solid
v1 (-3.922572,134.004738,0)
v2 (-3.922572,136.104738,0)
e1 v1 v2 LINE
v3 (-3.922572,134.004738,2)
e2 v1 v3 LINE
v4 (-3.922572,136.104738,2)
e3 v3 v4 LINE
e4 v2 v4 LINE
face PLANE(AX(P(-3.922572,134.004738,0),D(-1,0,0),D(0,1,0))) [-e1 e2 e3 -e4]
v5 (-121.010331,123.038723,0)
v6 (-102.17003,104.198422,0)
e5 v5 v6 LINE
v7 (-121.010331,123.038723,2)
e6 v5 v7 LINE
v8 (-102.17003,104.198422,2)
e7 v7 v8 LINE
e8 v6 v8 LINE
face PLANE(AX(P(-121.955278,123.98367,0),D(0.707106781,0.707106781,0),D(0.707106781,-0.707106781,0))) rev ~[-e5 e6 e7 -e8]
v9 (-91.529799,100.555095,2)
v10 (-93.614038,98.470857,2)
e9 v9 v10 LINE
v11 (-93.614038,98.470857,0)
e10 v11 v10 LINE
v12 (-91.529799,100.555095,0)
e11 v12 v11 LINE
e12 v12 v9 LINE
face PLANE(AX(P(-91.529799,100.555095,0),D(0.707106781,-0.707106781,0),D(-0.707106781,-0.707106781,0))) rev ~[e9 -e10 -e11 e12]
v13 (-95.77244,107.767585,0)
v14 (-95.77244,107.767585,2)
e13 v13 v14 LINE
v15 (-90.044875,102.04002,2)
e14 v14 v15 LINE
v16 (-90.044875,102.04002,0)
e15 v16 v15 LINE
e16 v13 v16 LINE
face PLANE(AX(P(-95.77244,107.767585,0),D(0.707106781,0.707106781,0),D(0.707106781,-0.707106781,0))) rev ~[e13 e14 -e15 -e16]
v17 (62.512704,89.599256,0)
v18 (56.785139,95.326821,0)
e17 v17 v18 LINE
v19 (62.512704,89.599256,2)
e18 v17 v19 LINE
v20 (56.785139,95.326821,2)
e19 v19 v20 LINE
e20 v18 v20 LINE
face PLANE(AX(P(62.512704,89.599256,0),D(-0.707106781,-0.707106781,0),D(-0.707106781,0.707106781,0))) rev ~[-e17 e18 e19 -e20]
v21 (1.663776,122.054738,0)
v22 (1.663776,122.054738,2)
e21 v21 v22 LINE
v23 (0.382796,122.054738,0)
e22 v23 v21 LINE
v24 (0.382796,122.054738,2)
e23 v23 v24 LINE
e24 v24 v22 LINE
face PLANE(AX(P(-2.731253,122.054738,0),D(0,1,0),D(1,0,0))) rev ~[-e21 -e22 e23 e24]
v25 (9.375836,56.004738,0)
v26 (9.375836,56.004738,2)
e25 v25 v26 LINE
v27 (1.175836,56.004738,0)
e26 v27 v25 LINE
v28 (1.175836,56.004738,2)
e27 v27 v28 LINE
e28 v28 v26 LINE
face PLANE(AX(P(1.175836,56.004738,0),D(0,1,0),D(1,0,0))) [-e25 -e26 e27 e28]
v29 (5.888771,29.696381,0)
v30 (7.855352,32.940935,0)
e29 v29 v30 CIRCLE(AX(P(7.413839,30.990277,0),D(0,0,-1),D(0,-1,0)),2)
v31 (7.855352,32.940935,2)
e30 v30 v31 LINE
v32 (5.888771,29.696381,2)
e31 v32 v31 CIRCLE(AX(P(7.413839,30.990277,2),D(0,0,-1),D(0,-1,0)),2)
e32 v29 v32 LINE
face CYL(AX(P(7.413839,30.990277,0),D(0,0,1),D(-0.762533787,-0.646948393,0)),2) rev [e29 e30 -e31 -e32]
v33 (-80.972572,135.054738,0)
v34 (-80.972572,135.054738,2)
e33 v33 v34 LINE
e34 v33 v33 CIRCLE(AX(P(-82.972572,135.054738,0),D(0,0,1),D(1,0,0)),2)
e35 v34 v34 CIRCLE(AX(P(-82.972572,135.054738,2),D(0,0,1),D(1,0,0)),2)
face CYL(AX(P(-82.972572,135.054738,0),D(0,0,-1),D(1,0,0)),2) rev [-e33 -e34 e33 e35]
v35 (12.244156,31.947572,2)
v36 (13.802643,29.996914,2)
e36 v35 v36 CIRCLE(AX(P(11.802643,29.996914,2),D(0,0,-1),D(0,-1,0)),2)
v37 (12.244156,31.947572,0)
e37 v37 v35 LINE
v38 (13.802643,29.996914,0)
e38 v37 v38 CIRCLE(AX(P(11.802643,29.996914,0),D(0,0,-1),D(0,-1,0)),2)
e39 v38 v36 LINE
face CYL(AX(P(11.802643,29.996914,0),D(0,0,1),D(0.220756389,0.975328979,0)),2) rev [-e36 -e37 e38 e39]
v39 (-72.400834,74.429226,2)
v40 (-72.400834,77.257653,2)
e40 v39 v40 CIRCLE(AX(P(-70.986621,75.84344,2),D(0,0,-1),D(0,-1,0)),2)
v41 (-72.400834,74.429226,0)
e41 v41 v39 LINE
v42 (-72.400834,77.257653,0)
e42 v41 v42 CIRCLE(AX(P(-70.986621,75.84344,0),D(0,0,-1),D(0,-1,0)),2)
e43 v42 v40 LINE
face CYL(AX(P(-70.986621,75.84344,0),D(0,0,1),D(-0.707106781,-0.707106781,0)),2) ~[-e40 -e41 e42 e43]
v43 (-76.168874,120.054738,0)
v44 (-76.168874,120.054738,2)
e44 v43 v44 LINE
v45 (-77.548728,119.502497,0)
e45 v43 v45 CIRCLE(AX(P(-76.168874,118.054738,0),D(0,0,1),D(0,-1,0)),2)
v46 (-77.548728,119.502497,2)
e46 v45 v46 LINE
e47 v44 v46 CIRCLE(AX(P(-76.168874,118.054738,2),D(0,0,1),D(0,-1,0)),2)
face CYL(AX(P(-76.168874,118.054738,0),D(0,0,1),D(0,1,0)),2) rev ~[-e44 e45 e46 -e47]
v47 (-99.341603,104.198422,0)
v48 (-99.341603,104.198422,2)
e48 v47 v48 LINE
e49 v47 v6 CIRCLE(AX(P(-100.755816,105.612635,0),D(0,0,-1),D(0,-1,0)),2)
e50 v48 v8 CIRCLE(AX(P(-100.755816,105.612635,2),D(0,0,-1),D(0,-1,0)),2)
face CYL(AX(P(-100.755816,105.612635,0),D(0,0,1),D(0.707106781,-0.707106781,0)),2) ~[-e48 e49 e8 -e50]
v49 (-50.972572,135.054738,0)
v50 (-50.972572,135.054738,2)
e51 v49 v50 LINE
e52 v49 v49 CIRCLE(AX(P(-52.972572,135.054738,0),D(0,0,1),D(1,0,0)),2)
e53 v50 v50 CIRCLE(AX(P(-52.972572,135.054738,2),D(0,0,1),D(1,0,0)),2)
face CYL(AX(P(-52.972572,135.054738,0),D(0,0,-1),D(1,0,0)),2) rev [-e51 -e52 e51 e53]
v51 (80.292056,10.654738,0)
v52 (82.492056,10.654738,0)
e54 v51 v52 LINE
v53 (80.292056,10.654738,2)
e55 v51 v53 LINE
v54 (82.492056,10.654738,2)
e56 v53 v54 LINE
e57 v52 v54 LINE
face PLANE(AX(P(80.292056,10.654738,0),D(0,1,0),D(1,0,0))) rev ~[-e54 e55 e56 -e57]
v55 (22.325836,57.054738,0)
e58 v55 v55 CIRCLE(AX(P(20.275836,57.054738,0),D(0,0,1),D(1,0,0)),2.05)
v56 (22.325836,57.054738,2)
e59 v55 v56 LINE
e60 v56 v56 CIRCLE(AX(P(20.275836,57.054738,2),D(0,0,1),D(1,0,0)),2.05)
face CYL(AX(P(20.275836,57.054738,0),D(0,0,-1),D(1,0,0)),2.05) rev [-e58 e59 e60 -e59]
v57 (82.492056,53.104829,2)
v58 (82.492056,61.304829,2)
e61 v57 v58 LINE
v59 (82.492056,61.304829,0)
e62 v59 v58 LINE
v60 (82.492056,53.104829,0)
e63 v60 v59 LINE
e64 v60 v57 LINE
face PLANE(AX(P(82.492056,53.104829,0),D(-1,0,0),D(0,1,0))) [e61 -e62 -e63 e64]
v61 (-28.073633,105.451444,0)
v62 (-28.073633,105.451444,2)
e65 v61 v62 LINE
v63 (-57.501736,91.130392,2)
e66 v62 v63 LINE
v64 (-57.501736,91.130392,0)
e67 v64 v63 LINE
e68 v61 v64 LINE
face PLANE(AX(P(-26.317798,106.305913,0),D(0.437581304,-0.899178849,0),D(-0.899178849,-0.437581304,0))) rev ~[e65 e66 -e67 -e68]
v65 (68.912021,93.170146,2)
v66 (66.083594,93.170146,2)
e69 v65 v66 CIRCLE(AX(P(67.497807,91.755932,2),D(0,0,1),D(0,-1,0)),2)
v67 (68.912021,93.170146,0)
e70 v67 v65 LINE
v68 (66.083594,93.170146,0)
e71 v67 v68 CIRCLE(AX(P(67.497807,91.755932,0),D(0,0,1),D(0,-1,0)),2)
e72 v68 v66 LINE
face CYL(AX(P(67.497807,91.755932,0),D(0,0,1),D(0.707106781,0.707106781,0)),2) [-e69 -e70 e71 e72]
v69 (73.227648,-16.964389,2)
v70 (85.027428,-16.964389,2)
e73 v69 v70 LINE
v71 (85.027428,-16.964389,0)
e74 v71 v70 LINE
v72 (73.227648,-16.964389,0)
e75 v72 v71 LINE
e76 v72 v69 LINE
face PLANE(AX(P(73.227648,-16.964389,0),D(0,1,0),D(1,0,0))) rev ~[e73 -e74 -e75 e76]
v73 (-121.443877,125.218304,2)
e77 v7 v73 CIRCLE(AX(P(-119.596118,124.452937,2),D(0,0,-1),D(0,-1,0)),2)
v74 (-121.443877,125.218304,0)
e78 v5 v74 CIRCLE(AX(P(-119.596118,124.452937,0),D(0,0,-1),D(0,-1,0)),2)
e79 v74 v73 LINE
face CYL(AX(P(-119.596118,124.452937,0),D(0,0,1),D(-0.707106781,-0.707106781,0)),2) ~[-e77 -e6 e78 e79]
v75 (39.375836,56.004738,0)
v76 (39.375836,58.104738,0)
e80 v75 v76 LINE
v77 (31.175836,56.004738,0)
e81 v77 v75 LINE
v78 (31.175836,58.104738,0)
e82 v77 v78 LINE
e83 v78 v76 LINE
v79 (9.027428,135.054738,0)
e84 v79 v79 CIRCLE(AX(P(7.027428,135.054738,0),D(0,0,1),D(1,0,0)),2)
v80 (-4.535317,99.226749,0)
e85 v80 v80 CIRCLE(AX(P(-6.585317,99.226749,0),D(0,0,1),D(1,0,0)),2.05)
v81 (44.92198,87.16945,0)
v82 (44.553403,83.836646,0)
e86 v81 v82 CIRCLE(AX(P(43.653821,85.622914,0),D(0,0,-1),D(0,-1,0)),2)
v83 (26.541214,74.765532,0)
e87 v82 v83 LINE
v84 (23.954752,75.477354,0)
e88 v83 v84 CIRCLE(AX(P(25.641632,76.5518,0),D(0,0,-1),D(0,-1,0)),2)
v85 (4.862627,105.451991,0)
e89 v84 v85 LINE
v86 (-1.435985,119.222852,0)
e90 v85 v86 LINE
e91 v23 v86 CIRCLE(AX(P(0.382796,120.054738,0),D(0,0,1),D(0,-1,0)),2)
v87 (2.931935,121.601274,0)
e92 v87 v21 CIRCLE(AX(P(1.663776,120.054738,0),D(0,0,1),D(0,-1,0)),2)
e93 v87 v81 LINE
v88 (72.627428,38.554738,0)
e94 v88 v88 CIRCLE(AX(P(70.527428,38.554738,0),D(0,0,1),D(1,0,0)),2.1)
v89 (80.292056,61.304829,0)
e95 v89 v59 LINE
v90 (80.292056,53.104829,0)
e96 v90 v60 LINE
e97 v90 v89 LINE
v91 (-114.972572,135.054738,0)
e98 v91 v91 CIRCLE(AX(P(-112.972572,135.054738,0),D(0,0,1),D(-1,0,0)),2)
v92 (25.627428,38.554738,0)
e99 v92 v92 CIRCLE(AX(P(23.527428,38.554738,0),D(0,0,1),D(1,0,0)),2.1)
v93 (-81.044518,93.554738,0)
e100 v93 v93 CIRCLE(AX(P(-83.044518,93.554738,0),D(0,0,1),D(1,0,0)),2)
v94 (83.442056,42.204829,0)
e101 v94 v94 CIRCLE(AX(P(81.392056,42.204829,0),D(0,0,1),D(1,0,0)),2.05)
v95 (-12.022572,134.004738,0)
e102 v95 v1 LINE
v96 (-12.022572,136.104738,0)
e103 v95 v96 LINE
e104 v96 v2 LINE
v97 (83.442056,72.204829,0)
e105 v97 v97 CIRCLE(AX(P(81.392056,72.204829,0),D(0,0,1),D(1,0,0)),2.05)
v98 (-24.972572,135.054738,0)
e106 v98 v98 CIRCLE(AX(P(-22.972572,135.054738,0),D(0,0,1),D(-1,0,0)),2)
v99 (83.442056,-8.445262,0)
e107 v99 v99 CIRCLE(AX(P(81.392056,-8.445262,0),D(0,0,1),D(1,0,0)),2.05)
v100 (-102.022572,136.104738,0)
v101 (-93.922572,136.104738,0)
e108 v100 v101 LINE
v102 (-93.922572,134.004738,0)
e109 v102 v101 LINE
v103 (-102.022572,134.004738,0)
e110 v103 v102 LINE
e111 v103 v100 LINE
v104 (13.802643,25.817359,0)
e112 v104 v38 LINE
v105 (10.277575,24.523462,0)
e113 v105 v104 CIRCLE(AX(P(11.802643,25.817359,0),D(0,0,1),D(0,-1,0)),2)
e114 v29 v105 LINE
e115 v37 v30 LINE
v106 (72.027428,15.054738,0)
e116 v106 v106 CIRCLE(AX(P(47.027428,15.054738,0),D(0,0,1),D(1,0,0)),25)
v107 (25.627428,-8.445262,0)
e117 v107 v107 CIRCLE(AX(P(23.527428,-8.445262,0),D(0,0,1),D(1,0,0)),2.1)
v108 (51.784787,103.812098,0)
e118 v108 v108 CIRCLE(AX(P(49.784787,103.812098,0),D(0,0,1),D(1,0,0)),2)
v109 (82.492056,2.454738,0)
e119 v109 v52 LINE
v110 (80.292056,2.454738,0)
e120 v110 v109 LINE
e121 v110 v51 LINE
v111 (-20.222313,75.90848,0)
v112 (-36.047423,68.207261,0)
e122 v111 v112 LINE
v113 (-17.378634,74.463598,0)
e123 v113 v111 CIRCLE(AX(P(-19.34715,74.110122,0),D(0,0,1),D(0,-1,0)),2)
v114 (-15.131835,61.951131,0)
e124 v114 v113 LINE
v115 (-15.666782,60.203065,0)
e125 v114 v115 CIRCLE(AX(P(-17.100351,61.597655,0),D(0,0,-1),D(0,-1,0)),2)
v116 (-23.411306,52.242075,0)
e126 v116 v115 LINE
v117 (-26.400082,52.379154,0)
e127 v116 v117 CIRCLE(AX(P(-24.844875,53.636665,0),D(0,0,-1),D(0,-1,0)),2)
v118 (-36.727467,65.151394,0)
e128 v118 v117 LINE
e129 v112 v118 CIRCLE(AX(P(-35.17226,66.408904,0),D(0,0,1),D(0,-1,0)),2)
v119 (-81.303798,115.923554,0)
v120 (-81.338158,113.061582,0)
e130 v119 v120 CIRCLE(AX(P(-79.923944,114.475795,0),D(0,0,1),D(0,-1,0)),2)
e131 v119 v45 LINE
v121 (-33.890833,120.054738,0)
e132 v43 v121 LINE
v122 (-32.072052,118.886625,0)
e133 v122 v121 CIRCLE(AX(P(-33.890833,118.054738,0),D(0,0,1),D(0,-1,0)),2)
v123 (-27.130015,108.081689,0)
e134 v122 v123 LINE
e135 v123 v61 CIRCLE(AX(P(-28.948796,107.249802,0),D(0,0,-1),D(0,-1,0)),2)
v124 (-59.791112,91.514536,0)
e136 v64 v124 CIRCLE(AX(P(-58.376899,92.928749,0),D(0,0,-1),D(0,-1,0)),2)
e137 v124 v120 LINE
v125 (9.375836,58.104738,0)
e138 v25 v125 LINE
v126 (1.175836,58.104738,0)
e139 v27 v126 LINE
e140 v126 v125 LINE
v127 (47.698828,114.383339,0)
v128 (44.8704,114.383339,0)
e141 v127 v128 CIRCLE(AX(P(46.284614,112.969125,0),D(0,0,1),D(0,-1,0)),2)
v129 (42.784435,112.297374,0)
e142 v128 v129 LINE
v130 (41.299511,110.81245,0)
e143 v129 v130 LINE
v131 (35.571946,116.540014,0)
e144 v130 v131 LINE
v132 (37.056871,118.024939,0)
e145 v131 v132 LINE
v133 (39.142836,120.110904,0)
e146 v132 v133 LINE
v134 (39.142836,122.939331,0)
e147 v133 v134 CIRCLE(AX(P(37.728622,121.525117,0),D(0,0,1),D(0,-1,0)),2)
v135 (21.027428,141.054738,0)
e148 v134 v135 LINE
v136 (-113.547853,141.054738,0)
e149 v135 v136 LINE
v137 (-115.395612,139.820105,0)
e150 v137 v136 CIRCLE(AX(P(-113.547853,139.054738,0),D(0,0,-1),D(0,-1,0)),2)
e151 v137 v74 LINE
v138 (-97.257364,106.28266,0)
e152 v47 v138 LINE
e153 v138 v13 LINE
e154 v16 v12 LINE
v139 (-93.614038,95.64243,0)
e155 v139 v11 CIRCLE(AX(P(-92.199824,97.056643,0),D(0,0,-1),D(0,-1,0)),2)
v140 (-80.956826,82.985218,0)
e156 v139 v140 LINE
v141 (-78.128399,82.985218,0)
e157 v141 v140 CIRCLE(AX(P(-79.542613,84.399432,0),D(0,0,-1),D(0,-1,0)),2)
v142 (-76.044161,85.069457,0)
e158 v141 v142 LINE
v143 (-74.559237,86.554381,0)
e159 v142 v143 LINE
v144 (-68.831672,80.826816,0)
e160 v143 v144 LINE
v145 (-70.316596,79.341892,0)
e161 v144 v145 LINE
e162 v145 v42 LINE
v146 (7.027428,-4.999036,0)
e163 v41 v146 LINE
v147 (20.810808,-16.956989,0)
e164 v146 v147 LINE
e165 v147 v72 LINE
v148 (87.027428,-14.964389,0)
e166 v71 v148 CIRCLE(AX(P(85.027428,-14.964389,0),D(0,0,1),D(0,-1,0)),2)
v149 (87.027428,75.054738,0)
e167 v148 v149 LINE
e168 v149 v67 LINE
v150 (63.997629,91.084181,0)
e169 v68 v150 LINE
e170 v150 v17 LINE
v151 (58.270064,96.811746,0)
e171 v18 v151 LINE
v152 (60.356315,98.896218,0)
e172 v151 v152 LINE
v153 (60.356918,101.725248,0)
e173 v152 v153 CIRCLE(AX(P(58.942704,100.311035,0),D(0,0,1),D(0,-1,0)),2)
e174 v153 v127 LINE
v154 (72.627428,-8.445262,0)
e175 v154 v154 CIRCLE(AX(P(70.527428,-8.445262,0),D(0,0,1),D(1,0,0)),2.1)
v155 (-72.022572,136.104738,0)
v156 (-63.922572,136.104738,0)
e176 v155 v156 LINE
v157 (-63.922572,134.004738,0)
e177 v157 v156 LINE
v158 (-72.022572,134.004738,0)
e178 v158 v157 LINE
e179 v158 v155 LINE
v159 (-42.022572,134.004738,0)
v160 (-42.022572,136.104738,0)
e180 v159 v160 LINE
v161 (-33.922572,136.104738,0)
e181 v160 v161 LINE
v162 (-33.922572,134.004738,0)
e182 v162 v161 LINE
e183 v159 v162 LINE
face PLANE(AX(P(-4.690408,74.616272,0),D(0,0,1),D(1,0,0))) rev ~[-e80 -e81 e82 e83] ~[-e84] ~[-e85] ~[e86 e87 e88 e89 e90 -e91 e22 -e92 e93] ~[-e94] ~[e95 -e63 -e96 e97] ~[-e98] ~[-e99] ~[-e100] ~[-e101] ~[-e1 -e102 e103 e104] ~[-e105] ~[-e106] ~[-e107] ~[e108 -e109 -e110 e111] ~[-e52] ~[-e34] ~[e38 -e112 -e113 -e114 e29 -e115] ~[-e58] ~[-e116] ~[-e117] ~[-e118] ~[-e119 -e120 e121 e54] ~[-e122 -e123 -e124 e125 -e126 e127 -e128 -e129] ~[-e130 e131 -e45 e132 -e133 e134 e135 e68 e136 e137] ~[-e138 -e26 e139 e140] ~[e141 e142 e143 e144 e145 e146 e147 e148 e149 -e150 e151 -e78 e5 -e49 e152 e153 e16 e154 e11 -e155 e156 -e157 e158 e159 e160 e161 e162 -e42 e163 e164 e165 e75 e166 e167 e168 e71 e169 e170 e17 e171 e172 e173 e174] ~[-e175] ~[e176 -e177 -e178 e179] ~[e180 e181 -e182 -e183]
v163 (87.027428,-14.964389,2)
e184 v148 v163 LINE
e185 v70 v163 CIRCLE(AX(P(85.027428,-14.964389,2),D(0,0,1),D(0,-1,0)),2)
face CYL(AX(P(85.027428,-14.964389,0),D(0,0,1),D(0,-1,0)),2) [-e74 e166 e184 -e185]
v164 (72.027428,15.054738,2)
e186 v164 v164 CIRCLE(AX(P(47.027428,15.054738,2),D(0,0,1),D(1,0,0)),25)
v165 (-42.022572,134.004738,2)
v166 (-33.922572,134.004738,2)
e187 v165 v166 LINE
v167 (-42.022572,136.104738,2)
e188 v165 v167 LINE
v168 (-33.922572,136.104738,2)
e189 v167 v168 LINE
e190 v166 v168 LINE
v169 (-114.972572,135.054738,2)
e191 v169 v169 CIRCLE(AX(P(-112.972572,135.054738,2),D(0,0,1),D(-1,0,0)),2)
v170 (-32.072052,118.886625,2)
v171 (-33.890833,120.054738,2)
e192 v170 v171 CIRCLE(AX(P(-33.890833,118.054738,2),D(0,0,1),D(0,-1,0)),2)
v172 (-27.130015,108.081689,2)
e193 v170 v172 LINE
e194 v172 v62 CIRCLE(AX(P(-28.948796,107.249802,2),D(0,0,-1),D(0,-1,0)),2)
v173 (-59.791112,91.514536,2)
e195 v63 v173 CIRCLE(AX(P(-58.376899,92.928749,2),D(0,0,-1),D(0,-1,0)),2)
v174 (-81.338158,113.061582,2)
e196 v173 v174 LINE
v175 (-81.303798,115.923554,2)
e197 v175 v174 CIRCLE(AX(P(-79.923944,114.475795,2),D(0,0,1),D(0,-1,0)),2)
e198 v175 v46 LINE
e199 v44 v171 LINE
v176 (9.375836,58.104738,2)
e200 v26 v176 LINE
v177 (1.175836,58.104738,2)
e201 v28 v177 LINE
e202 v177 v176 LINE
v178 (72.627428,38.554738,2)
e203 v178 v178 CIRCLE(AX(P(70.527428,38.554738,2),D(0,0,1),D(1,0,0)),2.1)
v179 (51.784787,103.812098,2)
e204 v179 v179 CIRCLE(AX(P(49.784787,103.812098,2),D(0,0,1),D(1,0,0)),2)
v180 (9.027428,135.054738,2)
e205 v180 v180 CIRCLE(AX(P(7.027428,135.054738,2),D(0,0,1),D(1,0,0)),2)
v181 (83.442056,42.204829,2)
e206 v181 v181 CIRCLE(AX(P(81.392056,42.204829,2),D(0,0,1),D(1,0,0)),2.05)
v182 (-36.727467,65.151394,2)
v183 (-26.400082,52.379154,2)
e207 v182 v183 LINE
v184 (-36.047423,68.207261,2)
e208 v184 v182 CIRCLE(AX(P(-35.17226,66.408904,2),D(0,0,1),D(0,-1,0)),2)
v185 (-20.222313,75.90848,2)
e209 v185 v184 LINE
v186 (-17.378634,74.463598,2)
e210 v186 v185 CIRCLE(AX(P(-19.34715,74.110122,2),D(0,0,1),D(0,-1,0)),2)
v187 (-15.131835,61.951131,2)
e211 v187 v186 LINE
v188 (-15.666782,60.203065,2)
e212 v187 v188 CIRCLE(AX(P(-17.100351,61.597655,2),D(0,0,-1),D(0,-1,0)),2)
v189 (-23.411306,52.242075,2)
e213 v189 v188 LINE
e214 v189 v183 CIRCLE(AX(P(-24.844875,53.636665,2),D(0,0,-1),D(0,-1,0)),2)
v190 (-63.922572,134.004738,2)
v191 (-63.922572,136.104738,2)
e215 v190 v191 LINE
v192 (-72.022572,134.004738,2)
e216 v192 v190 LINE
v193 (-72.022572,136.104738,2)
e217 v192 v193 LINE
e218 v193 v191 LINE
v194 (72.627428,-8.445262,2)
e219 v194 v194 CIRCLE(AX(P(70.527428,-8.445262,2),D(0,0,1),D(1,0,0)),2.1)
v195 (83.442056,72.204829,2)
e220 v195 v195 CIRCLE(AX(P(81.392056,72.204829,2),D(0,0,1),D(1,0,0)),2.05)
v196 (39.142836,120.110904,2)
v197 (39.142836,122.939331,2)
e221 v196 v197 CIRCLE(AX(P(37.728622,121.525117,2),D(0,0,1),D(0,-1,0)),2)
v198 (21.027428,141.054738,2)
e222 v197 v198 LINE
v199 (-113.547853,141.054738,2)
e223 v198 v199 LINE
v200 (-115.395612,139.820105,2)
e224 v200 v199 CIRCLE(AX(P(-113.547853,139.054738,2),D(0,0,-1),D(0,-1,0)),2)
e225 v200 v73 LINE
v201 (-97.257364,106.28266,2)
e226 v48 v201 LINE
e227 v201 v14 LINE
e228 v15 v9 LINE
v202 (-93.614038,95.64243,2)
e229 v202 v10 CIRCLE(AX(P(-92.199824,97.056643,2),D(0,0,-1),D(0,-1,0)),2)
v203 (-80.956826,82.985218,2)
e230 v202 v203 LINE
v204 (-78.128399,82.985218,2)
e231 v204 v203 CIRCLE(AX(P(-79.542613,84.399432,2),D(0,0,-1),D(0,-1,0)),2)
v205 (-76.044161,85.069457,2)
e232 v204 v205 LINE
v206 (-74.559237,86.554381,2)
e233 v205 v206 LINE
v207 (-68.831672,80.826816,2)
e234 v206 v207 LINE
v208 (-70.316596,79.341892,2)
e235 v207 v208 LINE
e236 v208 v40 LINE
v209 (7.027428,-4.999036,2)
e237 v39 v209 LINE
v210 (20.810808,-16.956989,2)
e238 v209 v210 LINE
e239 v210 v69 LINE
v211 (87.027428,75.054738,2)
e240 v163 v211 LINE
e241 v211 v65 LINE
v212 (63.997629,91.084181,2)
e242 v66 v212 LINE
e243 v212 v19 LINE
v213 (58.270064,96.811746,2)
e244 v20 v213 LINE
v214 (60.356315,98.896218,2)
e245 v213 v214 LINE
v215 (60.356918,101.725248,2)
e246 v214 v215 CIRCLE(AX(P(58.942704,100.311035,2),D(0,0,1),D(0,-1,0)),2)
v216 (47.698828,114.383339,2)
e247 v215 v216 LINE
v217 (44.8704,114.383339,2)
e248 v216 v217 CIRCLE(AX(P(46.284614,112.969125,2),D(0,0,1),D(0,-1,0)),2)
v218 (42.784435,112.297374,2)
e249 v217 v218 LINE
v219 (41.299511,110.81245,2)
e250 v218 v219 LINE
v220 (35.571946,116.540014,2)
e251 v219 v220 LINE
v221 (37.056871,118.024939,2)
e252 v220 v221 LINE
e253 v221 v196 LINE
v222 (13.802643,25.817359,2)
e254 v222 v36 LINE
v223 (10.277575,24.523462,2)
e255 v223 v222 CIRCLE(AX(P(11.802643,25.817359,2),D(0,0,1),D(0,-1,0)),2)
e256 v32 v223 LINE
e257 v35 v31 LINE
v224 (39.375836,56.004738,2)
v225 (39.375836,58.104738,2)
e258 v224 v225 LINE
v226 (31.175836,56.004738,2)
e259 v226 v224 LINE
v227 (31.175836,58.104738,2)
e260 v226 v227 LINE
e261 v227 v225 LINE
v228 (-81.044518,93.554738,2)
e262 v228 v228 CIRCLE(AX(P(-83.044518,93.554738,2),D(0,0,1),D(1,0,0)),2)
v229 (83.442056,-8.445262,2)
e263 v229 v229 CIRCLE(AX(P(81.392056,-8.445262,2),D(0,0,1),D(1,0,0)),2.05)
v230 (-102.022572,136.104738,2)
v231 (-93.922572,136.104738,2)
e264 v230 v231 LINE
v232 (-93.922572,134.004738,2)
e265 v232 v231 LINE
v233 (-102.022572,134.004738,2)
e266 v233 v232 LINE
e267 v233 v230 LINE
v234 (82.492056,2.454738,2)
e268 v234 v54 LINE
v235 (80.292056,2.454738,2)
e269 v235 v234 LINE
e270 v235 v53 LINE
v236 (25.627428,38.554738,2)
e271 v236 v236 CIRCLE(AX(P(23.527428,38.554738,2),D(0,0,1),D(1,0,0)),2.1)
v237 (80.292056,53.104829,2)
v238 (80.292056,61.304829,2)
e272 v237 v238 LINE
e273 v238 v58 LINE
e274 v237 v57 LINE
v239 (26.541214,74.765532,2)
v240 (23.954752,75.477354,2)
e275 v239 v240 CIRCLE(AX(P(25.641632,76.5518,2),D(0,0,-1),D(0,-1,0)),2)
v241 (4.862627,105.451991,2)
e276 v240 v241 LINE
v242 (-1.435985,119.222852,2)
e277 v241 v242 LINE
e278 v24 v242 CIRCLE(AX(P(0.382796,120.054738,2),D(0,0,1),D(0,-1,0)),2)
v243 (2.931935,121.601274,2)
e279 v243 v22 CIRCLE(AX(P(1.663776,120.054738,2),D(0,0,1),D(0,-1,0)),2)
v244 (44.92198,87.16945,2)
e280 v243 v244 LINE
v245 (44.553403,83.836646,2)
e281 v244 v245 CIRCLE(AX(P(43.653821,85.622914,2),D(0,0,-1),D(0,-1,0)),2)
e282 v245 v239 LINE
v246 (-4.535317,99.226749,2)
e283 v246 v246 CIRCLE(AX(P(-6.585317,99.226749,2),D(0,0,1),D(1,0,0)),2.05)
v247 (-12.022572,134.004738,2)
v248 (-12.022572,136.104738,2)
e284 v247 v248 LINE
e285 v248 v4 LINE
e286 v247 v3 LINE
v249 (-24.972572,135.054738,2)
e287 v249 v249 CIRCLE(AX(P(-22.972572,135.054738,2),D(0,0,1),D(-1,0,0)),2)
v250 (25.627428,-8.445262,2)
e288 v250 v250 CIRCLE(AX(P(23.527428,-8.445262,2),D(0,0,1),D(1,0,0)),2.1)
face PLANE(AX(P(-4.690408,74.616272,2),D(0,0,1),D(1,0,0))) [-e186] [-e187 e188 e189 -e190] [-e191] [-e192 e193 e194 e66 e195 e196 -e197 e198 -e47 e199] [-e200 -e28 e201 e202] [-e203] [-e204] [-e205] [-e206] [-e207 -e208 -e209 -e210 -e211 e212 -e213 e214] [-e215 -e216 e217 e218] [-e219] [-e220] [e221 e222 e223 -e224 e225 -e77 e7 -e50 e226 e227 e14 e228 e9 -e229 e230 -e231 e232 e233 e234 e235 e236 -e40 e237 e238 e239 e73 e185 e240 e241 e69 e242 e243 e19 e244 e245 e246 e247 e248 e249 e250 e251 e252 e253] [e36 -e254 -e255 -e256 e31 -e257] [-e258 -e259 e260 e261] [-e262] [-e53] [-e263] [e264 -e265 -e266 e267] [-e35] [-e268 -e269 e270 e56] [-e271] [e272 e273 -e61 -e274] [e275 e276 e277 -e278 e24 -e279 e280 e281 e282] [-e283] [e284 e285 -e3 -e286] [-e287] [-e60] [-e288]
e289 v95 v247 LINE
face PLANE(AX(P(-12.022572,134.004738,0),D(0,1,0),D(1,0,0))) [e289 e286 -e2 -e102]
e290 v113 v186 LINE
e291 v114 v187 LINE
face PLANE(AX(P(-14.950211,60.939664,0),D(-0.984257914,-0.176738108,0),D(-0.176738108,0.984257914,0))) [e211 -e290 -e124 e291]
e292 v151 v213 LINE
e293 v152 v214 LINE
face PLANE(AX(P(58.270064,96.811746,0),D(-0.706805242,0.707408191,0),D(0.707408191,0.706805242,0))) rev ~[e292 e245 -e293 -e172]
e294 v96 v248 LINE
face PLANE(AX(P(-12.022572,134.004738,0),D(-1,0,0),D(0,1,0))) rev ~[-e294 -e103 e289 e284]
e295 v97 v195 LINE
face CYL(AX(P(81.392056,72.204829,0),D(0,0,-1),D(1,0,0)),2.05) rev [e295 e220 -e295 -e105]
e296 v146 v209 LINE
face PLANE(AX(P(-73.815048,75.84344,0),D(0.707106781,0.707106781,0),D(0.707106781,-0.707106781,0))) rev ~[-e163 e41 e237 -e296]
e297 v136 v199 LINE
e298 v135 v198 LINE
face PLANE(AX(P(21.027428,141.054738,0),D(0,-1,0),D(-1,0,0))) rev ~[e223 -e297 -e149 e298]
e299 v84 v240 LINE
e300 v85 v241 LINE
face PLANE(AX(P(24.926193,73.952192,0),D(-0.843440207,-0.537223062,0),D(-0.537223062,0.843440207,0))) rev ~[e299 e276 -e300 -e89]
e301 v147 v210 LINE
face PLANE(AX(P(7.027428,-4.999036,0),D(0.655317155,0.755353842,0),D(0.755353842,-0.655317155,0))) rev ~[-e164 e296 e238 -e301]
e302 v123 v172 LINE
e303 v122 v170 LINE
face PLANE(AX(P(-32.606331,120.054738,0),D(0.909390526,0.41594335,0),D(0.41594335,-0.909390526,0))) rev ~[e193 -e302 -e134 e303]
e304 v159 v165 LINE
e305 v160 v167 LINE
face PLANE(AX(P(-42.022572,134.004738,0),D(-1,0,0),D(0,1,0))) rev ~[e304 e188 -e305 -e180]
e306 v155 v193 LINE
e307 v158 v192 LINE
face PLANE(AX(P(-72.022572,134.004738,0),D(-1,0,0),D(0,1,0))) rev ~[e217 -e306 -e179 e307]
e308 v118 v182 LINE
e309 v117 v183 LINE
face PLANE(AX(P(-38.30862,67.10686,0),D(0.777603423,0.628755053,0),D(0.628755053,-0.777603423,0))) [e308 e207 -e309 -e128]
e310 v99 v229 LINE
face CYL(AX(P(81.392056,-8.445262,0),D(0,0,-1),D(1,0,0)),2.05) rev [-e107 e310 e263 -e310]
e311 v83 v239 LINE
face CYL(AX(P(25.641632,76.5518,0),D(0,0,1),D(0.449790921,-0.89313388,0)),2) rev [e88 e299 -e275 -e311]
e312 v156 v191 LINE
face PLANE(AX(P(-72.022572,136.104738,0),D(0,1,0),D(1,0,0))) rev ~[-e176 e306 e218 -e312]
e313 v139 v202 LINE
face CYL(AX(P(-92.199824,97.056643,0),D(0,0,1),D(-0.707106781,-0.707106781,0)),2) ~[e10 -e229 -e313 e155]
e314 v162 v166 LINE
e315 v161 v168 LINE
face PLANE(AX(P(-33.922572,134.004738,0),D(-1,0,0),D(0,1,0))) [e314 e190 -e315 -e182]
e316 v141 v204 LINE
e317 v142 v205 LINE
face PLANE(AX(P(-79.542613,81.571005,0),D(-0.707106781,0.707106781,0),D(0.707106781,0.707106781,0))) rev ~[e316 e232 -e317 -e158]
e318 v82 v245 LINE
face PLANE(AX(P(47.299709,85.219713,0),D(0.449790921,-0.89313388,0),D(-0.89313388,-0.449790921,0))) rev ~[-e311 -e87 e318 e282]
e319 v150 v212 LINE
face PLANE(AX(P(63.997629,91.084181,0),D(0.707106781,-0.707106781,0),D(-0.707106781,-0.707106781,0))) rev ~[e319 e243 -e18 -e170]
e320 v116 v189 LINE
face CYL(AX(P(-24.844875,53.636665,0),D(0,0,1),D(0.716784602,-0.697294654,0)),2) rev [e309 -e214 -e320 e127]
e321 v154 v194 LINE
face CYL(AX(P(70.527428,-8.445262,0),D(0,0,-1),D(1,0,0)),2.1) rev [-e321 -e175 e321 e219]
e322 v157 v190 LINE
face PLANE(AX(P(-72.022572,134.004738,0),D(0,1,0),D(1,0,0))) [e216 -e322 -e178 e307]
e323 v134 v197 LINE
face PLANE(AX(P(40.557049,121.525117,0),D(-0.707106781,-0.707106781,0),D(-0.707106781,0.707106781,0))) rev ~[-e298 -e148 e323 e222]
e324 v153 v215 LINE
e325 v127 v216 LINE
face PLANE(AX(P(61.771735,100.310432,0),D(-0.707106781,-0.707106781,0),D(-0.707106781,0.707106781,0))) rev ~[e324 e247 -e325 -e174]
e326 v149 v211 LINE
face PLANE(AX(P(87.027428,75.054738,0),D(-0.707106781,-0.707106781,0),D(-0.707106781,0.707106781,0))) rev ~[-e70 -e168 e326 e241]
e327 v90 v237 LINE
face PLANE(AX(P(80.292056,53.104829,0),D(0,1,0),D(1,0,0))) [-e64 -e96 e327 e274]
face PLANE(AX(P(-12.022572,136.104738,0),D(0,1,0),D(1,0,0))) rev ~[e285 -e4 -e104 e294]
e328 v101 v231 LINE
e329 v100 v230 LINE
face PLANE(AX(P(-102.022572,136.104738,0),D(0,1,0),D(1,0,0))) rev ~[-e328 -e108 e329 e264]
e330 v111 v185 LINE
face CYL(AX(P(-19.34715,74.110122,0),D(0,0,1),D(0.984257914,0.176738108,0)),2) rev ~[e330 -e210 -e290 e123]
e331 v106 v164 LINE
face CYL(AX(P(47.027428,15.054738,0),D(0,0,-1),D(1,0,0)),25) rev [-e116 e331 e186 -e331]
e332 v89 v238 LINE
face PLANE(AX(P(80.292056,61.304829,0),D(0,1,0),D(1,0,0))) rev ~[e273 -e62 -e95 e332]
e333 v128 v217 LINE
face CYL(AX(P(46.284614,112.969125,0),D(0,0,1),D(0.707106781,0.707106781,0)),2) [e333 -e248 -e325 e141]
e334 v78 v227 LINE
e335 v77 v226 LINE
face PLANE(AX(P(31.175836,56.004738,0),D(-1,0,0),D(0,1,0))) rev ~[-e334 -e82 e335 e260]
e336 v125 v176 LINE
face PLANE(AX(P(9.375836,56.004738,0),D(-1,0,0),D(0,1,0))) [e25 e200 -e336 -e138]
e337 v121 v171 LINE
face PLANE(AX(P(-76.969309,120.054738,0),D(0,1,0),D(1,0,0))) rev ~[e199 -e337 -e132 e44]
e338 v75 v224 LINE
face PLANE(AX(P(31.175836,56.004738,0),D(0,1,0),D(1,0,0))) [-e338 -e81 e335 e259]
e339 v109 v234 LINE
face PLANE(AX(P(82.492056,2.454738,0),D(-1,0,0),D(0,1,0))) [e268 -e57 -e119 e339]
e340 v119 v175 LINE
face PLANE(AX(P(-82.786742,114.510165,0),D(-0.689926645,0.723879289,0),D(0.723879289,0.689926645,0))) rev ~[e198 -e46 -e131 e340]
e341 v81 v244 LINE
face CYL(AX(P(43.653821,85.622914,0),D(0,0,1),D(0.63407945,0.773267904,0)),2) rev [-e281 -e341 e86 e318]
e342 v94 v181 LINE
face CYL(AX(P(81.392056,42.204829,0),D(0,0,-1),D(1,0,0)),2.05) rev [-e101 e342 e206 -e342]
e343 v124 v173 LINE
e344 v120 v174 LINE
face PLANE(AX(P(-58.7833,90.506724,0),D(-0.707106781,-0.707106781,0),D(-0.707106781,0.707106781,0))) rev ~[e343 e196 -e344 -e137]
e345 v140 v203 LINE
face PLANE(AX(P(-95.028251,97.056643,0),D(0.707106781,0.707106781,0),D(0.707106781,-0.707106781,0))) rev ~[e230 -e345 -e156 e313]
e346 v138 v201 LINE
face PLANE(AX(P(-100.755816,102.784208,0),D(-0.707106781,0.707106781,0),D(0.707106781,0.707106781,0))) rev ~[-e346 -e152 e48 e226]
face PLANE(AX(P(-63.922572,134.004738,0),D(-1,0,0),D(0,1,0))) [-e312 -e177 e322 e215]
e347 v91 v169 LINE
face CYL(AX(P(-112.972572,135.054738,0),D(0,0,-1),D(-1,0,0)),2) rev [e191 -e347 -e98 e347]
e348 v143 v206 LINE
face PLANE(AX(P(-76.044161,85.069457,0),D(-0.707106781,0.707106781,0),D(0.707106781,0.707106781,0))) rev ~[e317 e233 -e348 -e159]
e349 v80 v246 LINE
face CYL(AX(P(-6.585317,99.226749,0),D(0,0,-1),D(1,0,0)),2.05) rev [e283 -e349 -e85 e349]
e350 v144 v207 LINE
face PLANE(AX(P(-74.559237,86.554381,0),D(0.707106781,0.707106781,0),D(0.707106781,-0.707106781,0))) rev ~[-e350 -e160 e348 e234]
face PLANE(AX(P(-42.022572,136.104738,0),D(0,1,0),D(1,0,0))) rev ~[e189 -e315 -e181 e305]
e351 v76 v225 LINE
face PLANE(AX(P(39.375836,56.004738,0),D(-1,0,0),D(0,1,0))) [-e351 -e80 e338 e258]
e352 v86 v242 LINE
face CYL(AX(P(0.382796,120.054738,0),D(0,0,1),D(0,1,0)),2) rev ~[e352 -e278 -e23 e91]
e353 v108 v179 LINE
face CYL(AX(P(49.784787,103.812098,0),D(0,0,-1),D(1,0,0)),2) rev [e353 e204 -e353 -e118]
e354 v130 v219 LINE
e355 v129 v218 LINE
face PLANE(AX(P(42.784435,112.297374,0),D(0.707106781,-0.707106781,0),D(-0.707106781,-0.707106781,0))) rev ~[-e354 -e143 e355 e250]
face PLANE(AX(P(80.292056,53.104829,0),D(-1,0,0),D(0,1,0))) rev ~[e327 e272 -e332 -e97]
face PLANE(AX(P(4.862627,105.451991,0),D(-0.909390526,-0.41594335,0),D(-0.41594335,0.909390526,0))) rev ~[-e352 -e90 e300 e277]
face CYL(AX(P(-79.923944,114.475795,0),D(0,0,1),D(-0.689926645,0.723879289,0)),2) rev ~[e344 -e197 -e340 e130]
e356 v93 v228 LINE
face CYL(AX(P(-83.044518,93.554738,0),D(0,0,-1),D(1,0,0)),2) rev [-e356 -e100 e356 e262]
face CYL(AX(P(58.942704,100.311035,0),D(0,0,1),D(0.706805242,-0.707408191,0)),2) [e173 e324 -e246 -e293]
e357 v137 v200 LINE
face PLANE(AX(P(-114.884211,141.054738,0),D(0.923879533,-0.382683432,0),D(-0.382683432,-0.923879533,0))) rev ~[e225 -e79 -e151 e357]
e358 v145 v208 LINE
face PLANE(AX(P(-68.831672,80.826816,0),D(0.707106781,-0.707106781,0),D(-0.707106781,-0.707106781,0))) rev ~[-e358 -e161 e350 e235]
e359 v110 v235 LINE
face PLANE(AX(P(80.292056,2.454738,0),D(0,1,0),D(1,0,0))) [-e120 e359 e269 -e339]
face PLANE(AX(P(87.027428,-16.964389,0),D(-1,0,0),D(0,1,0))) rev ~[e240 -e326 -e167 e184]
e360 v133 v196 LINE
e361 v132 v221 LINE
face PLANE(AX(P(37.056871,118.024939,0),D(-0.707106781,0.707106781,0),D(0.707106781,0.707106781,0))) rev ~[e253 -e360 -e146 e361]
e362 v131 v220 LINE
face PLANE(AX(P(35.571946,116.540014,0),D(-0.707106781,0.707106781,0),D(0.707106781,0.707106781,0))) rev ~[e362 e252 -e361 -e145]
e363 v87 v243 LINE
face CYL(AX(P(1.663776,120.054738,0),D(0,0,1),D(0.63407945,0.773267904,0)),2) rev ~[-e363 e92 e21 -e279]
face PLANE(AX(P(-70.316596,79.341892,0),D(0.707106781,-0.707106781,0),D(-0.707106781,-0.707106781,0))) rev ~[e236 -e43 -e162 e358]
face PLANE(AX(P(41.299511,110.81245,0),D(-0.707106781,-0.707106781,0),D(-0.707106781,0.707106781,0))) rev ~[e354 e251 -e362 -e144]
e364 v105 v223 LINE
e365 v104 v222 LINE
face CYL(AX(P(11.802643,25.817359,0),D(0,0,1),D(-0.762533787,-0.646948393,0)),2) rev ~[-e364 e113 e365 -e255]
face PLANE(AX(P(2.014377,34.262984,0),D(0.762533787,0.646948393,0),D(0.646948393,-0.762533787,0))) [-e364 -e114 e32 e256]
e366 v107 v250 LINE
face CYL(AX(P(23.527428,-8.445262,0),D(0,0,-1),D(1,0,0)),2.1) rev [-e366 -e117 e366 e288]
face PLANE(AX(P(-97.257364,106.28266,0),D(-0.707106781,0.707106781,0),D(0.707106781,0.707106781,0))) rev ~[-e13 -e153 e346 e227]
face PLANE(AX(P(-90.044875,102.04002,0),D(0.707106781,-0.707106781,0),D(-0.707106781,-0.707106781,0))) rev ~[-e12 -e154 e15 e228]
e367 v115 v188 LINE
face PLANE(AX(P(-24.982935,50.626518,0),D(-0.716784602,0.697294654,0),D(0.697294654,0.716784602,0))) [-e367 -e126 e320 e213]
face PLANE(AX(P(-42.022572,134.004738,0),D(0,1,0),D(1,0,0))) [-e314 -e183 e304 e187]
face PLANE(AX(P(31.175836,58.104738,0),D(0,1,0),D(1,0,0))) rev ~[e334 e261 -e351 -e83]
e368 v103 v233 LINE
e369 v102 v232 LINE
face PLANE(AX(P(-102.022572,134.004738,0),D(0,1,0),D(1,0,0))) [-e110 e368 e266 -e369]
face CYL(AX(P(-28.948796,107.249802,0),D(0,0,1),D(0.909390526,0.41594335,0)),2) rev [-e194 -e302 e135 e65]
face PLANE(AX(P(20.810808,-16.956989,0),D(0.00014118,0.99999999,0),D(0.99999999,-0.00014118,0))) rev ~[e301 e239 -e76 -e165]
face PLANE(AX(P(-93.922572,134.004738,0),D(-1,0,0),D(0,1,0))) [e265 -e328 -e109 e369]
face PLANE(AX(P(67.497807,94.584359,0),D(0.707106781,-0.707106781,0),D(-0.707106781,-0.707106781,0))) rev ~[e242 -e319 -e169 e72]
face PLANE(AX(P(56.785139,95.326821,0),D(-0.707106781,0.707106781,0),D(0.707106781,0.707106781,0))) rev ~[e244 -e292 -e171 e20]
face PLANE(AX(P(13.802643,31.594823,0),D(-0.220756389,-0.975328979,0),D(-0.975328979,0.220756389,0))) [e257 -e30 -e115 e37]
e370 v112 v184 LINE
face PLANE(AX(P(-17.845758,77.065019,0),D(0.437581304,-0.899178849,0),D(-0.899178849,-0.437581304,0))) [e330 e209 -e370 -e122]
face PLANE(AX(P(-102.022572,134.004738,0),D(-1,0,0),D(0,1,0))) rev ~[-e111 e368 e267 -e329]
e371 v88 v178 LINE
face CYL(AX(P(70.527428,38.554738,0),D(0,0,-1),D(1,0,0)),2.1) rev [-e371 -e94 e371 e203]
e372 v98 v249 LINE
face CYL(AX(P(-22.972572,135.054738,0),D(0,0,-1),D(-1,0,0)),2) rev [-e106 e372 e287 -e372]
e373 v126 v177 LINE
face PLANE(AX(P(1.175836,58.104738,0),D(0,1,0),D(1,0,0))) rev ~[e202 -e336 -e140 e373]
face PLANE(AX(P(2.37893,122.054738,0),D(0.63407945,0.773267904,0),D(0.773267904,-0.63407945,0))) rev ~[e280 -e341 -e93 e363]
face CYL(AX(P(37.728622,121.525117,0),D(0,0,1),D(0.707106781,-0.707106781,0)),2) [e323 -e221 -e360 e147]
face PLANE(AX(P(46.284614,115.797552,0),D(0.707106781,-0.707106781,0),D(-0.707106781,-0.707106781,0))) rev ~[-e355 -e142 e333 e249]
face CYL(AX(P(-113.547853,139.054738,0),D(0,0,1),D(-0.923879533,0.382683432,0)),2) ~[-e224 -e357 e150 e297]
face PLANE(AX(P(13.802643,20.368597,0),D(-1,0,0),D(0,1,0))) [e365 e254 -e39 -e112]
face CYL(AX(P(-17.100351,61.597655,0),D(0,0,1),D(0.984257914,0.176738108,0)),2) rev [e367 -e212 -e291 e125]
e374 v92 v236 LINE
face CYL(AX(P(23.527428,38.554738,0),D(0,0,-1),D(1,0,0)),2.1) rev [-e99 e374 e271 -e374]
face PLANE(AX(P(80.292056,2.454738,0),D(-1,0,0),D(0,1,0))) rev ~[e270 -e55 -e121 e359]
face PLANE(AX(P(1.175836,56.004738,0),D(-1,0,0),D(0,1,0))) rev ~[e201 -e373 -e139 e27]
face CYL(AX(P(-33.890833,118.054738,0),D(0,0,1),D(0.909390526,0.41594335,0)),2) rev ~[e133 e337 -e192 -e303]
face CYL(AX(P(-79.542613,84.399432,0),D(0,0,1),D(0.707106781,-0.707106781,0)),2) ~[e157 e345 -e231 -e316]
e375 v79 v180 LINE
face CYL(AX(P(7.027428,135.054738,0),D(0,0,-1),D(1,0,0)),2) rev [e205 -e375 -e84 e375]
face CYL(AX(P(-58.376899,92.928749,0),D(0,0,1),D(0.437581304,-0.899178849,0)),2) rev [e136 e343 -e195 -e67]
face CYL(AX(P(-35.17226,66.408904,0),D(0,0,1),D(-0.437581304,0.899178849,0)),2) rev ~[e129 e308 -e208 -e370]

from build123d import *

# Parameters (mm, degrees)
SKETCH_1_R      = 2
SKETCH_1_R_2    = 25
SKETCH_1_R_3    = 2.05
SKETCH_1_R_4    = 2.1
SKETCH_1_W      = 8.1
SKETCH_1_H      = 2.1
SKETCH_1_W_2    = 8.2
SKETCH_1_W_3    = 2.2
SKETCH_1_H_2    = 8.2
EXTRUDE_1_DEPTH = 2
FILLET_2_R      = 2


with BuildPart() as part:
    # 草图1 → 凸台-拉伸1 (new body)
    with BuildSketch(Plane.XY):
        Polygon((7.027428163, -4.999036262), (20.810808237, -16.956988843), (73.227648339, -16.964389058), (87.027428163, -16.964389058), (87.027428163, 75.054738201), (67.497807203, 94.584359161), (63.997628636, 91.084180595), (62.512704395, 89.599256354), (56.785139468, 95.326821282), (58.270063708, 96.811745522), (61.771734574, 100.31043179), (54.027428163, 108.054738201), (46.284614051, 115.797552313), (42.784435485, 112.297373746), (41.299511244, 110.812449505), (35.571946316, 116.540014433), (37.056870557, 118.024938674), (40.557049124, 121.52511724), (21.027428163, 141.054738201), (-114.884210676, 141.054738201), (-121.955278488, 123.983670389), (-100.755816342, 102.784208243), (-97.257364322, 106.282660262), (-95.772440082, 107.767584503), (-90.044875154, 102.040019575), (-91.529799395, 100.555095335), (-95.028251414, 97.056643315), (-87.28543216, 89.313824061), (-79.542612906, 81.571004807), (-76.044160887, 85.069456827), (-74.559236646, 86.554381067), (-68.831671719, 80.82681614), (-70.316595959, 79.341891899), (-73.815047978, 75.84343988), align=None)
        with Locations((-52.972571837, 135.054738201)):
            Circle(SKETCH_1_R, mode=Mode.SUBTRACT)
        with Locations((47.027428163, 15.054738201)):
            Circle(SKETCH_1_R_2, mode=Mode.SUBTRACT)
        with Locations(Location((-22.972571837, 135.054738201, 0), (0, 0, 180))):
            Circle(SKETCH_1_R, mode=Mode.SUBTRACT)
        with Locations((7.027428163, 135.054738201)):
            Circle(SKETCH_1_R, mode=Mode.SUBTRACT)
        with Locations(Location((-112.972571837, 135.054738201, 0), (0, 0, 180))):
            Circle(SKETCH_1_R, mode=Mode.SUBTRACT)
        with Locations((-82.972571837, 135.054738201)):
            Circle(SKETCH_1_R, mode=Mode.SUBTRACT)
        with Locations((49.784787476, 103.812097514)):
            Circle(SKETCH_1_R, mode=Mode.SUBTRACT)
        with Locations((-83.04451802, 93.554738201)):
            Circle(SKETCH_1_R, mode=Mode.SUBTRACT)
        with Locations((20.275835807, 57.054738201)):
            Circle(SKETCH_1_R_3, mode=Mode.SUBTRACT)
        with Locations((-6.58531727, 99.226748532)):
            Circle(SKETCH_1_R_3, mode=Mode.SUBTRACT)
        with Locations((70.527428163, -8.445261799)):
            Circle(SKETCH_1_R_4, mode=Mode.SUBTRACT)
        with Locations((23.527428163, -8.445261799)):
            Circle(SKETCH_1_R_4, mode=Mode.SUBTRACT)
        with Locations((23.527428163, 38.554738201)):
            Circle(SKETCH_1_R_4, mode=Mode.SUBTRACT)
        with Locations((70.527428163, 38.554738201)):
            Circle(SKETCH_1_R_4, mode=Mode.SUBTRACT)
        with Locations((81.392055944, 72.204829046)):
            Circle(SKETCH_1_R_3, mode=Mode.SUBTRACT)
        with Locations((81.392055944, -8.445261799)):
            Circle(SKETCH_1_R_3, mode=Mode.SUBTRACT)
        with Locations((81.392055944, 42.204829046)):
            Circle(SKETCH_1_R_3, mode=Mode.SUBTRACT)
        with Locations((-37.972571837, 135.054738201)):
            Rectangle(SKETCH_1_W, SKETCH_1_H, mode=Mode.SUBTRACT)
        with Locations((-7.972571837, 135.054738201)):
            Rectangle(SKETCH_1_W, SKETCH_1_H, mode=Mode.SUBTRACT)
        with Locations((-97.972571837, 135.054738201)):
            Rectangle(SKETCH_1_W, SKETCH_1_H, mode=Mode.SUBTRACT)
        with Locations((-67.972571837, 135.054738201)):
            Rectangle(SKETCH_1_W, SKETCH_1_H, mode=Mode.SUBTRACT)
        with Locations((5.275835807, 57.054738201)):
            Rectangle(SKETCH_1_W_2, SKETCH_1_H, mode=Mode.SUBTRACT)
        with Locations((35.275835807, 57.054738201)):
            Rectangle(SKETCH_1_W_2, SKETCH_1_H, mode=Mode.SUBTRACT)
        Polygon((-26.317798475, 106.3059132), (-58.783300448, 90.506724064), (-82.786741677, 114.510165293), (-76.96930946, 120.054738201), (-32.606331473, 120.054738201), align=None, mode=Mode.SUBTRACT)
        Polygon((47.299709176, 85.219712632), (24.92619293, 73.952191934), (4.862626833, 105.451990707), (-2.731253041, 122.054738201), (2.37892986, 122.054738201), align=None, mode=Mode.SUBTRACT)
        Polygon((-14.950211349, 60.939664471), (-17.845757969, 77.065019133), (-38.30861977, 67.106860342), (-24.982934729, 50.626518371), align=None, mode=Mode.SUBTRACT)
        Polygon((2.01437662, 34.262984309), (13.802642778, 20.368597473), (13.802642778, 31.594822975), align=None, mode=Mode.SUBTRACT)
        with Locations((81.392055944, 57.204829046)):
            Rectangle(SKETCH_1_W_3, SKETCH_1_H_2, mode=Mode.SUBTRACT)
        with Locations((81.392055944, 6.554738201)):
            Rectangle(SKETCH_1_W_3, SKETCH_1_H_2, mode=Mode.SUBTRACT)
    extrude(amount=EXTRUDE_1_DEPTH)

    # 圆角2
    fillet_2_edges = [part.edges().sort_by_distance(p)[0] for p in [
        (-26.317798475, 106.3059132, 1),
        (-32.606331473, 120.054738201, 1),
        (-76.96930946, 120.054738201, 1),
        (-82.786741677, 114.510165293, 1),
        (-58.783300448, 90.506724064, 1),
        (47.299709176, 85.219712632, 1),
        (2.37892986, 122.054738201, 1),
        (-2.731253041, 122.054738201, 1),
        (24.92619293, 73.952191934, 1),
        (-24.982934729, 50.626518371, 1),
        (-14.950211349, 60.939664471, 1),
        (-17.845757969, 77.065019133, 1),
        (-38.30861977, 67.106860342, 1),
        (13.802642778, 31.594822975, 1),
        (2.01437662, 34.262984309, 1),
        (13.802642778, 20.368597473, 1),
        (40.557049124, 121.52511724, 1),
        (46.284614051, 115.797552313, 1),
        (61.771734574, 100.31043179, 1),
        (67.497807203, 94.584359161, 1),
        (87.027428163, -16.964389058, 1),
        (-73.815047978, 75.84343988, 1),
        (-79.542612906, 81.571004807, 1),
        (-95.028251414, 97.056643315, 1),
        (-100.755816342, 102.784208243, 1),
        (-121.955278488, 123.983670389, 1),
        (-114.884210676, 141.054738201, 1),
    ]]
    fillet(fillet_2_edges, radius=FILLET_2_R)


solid = part.part
